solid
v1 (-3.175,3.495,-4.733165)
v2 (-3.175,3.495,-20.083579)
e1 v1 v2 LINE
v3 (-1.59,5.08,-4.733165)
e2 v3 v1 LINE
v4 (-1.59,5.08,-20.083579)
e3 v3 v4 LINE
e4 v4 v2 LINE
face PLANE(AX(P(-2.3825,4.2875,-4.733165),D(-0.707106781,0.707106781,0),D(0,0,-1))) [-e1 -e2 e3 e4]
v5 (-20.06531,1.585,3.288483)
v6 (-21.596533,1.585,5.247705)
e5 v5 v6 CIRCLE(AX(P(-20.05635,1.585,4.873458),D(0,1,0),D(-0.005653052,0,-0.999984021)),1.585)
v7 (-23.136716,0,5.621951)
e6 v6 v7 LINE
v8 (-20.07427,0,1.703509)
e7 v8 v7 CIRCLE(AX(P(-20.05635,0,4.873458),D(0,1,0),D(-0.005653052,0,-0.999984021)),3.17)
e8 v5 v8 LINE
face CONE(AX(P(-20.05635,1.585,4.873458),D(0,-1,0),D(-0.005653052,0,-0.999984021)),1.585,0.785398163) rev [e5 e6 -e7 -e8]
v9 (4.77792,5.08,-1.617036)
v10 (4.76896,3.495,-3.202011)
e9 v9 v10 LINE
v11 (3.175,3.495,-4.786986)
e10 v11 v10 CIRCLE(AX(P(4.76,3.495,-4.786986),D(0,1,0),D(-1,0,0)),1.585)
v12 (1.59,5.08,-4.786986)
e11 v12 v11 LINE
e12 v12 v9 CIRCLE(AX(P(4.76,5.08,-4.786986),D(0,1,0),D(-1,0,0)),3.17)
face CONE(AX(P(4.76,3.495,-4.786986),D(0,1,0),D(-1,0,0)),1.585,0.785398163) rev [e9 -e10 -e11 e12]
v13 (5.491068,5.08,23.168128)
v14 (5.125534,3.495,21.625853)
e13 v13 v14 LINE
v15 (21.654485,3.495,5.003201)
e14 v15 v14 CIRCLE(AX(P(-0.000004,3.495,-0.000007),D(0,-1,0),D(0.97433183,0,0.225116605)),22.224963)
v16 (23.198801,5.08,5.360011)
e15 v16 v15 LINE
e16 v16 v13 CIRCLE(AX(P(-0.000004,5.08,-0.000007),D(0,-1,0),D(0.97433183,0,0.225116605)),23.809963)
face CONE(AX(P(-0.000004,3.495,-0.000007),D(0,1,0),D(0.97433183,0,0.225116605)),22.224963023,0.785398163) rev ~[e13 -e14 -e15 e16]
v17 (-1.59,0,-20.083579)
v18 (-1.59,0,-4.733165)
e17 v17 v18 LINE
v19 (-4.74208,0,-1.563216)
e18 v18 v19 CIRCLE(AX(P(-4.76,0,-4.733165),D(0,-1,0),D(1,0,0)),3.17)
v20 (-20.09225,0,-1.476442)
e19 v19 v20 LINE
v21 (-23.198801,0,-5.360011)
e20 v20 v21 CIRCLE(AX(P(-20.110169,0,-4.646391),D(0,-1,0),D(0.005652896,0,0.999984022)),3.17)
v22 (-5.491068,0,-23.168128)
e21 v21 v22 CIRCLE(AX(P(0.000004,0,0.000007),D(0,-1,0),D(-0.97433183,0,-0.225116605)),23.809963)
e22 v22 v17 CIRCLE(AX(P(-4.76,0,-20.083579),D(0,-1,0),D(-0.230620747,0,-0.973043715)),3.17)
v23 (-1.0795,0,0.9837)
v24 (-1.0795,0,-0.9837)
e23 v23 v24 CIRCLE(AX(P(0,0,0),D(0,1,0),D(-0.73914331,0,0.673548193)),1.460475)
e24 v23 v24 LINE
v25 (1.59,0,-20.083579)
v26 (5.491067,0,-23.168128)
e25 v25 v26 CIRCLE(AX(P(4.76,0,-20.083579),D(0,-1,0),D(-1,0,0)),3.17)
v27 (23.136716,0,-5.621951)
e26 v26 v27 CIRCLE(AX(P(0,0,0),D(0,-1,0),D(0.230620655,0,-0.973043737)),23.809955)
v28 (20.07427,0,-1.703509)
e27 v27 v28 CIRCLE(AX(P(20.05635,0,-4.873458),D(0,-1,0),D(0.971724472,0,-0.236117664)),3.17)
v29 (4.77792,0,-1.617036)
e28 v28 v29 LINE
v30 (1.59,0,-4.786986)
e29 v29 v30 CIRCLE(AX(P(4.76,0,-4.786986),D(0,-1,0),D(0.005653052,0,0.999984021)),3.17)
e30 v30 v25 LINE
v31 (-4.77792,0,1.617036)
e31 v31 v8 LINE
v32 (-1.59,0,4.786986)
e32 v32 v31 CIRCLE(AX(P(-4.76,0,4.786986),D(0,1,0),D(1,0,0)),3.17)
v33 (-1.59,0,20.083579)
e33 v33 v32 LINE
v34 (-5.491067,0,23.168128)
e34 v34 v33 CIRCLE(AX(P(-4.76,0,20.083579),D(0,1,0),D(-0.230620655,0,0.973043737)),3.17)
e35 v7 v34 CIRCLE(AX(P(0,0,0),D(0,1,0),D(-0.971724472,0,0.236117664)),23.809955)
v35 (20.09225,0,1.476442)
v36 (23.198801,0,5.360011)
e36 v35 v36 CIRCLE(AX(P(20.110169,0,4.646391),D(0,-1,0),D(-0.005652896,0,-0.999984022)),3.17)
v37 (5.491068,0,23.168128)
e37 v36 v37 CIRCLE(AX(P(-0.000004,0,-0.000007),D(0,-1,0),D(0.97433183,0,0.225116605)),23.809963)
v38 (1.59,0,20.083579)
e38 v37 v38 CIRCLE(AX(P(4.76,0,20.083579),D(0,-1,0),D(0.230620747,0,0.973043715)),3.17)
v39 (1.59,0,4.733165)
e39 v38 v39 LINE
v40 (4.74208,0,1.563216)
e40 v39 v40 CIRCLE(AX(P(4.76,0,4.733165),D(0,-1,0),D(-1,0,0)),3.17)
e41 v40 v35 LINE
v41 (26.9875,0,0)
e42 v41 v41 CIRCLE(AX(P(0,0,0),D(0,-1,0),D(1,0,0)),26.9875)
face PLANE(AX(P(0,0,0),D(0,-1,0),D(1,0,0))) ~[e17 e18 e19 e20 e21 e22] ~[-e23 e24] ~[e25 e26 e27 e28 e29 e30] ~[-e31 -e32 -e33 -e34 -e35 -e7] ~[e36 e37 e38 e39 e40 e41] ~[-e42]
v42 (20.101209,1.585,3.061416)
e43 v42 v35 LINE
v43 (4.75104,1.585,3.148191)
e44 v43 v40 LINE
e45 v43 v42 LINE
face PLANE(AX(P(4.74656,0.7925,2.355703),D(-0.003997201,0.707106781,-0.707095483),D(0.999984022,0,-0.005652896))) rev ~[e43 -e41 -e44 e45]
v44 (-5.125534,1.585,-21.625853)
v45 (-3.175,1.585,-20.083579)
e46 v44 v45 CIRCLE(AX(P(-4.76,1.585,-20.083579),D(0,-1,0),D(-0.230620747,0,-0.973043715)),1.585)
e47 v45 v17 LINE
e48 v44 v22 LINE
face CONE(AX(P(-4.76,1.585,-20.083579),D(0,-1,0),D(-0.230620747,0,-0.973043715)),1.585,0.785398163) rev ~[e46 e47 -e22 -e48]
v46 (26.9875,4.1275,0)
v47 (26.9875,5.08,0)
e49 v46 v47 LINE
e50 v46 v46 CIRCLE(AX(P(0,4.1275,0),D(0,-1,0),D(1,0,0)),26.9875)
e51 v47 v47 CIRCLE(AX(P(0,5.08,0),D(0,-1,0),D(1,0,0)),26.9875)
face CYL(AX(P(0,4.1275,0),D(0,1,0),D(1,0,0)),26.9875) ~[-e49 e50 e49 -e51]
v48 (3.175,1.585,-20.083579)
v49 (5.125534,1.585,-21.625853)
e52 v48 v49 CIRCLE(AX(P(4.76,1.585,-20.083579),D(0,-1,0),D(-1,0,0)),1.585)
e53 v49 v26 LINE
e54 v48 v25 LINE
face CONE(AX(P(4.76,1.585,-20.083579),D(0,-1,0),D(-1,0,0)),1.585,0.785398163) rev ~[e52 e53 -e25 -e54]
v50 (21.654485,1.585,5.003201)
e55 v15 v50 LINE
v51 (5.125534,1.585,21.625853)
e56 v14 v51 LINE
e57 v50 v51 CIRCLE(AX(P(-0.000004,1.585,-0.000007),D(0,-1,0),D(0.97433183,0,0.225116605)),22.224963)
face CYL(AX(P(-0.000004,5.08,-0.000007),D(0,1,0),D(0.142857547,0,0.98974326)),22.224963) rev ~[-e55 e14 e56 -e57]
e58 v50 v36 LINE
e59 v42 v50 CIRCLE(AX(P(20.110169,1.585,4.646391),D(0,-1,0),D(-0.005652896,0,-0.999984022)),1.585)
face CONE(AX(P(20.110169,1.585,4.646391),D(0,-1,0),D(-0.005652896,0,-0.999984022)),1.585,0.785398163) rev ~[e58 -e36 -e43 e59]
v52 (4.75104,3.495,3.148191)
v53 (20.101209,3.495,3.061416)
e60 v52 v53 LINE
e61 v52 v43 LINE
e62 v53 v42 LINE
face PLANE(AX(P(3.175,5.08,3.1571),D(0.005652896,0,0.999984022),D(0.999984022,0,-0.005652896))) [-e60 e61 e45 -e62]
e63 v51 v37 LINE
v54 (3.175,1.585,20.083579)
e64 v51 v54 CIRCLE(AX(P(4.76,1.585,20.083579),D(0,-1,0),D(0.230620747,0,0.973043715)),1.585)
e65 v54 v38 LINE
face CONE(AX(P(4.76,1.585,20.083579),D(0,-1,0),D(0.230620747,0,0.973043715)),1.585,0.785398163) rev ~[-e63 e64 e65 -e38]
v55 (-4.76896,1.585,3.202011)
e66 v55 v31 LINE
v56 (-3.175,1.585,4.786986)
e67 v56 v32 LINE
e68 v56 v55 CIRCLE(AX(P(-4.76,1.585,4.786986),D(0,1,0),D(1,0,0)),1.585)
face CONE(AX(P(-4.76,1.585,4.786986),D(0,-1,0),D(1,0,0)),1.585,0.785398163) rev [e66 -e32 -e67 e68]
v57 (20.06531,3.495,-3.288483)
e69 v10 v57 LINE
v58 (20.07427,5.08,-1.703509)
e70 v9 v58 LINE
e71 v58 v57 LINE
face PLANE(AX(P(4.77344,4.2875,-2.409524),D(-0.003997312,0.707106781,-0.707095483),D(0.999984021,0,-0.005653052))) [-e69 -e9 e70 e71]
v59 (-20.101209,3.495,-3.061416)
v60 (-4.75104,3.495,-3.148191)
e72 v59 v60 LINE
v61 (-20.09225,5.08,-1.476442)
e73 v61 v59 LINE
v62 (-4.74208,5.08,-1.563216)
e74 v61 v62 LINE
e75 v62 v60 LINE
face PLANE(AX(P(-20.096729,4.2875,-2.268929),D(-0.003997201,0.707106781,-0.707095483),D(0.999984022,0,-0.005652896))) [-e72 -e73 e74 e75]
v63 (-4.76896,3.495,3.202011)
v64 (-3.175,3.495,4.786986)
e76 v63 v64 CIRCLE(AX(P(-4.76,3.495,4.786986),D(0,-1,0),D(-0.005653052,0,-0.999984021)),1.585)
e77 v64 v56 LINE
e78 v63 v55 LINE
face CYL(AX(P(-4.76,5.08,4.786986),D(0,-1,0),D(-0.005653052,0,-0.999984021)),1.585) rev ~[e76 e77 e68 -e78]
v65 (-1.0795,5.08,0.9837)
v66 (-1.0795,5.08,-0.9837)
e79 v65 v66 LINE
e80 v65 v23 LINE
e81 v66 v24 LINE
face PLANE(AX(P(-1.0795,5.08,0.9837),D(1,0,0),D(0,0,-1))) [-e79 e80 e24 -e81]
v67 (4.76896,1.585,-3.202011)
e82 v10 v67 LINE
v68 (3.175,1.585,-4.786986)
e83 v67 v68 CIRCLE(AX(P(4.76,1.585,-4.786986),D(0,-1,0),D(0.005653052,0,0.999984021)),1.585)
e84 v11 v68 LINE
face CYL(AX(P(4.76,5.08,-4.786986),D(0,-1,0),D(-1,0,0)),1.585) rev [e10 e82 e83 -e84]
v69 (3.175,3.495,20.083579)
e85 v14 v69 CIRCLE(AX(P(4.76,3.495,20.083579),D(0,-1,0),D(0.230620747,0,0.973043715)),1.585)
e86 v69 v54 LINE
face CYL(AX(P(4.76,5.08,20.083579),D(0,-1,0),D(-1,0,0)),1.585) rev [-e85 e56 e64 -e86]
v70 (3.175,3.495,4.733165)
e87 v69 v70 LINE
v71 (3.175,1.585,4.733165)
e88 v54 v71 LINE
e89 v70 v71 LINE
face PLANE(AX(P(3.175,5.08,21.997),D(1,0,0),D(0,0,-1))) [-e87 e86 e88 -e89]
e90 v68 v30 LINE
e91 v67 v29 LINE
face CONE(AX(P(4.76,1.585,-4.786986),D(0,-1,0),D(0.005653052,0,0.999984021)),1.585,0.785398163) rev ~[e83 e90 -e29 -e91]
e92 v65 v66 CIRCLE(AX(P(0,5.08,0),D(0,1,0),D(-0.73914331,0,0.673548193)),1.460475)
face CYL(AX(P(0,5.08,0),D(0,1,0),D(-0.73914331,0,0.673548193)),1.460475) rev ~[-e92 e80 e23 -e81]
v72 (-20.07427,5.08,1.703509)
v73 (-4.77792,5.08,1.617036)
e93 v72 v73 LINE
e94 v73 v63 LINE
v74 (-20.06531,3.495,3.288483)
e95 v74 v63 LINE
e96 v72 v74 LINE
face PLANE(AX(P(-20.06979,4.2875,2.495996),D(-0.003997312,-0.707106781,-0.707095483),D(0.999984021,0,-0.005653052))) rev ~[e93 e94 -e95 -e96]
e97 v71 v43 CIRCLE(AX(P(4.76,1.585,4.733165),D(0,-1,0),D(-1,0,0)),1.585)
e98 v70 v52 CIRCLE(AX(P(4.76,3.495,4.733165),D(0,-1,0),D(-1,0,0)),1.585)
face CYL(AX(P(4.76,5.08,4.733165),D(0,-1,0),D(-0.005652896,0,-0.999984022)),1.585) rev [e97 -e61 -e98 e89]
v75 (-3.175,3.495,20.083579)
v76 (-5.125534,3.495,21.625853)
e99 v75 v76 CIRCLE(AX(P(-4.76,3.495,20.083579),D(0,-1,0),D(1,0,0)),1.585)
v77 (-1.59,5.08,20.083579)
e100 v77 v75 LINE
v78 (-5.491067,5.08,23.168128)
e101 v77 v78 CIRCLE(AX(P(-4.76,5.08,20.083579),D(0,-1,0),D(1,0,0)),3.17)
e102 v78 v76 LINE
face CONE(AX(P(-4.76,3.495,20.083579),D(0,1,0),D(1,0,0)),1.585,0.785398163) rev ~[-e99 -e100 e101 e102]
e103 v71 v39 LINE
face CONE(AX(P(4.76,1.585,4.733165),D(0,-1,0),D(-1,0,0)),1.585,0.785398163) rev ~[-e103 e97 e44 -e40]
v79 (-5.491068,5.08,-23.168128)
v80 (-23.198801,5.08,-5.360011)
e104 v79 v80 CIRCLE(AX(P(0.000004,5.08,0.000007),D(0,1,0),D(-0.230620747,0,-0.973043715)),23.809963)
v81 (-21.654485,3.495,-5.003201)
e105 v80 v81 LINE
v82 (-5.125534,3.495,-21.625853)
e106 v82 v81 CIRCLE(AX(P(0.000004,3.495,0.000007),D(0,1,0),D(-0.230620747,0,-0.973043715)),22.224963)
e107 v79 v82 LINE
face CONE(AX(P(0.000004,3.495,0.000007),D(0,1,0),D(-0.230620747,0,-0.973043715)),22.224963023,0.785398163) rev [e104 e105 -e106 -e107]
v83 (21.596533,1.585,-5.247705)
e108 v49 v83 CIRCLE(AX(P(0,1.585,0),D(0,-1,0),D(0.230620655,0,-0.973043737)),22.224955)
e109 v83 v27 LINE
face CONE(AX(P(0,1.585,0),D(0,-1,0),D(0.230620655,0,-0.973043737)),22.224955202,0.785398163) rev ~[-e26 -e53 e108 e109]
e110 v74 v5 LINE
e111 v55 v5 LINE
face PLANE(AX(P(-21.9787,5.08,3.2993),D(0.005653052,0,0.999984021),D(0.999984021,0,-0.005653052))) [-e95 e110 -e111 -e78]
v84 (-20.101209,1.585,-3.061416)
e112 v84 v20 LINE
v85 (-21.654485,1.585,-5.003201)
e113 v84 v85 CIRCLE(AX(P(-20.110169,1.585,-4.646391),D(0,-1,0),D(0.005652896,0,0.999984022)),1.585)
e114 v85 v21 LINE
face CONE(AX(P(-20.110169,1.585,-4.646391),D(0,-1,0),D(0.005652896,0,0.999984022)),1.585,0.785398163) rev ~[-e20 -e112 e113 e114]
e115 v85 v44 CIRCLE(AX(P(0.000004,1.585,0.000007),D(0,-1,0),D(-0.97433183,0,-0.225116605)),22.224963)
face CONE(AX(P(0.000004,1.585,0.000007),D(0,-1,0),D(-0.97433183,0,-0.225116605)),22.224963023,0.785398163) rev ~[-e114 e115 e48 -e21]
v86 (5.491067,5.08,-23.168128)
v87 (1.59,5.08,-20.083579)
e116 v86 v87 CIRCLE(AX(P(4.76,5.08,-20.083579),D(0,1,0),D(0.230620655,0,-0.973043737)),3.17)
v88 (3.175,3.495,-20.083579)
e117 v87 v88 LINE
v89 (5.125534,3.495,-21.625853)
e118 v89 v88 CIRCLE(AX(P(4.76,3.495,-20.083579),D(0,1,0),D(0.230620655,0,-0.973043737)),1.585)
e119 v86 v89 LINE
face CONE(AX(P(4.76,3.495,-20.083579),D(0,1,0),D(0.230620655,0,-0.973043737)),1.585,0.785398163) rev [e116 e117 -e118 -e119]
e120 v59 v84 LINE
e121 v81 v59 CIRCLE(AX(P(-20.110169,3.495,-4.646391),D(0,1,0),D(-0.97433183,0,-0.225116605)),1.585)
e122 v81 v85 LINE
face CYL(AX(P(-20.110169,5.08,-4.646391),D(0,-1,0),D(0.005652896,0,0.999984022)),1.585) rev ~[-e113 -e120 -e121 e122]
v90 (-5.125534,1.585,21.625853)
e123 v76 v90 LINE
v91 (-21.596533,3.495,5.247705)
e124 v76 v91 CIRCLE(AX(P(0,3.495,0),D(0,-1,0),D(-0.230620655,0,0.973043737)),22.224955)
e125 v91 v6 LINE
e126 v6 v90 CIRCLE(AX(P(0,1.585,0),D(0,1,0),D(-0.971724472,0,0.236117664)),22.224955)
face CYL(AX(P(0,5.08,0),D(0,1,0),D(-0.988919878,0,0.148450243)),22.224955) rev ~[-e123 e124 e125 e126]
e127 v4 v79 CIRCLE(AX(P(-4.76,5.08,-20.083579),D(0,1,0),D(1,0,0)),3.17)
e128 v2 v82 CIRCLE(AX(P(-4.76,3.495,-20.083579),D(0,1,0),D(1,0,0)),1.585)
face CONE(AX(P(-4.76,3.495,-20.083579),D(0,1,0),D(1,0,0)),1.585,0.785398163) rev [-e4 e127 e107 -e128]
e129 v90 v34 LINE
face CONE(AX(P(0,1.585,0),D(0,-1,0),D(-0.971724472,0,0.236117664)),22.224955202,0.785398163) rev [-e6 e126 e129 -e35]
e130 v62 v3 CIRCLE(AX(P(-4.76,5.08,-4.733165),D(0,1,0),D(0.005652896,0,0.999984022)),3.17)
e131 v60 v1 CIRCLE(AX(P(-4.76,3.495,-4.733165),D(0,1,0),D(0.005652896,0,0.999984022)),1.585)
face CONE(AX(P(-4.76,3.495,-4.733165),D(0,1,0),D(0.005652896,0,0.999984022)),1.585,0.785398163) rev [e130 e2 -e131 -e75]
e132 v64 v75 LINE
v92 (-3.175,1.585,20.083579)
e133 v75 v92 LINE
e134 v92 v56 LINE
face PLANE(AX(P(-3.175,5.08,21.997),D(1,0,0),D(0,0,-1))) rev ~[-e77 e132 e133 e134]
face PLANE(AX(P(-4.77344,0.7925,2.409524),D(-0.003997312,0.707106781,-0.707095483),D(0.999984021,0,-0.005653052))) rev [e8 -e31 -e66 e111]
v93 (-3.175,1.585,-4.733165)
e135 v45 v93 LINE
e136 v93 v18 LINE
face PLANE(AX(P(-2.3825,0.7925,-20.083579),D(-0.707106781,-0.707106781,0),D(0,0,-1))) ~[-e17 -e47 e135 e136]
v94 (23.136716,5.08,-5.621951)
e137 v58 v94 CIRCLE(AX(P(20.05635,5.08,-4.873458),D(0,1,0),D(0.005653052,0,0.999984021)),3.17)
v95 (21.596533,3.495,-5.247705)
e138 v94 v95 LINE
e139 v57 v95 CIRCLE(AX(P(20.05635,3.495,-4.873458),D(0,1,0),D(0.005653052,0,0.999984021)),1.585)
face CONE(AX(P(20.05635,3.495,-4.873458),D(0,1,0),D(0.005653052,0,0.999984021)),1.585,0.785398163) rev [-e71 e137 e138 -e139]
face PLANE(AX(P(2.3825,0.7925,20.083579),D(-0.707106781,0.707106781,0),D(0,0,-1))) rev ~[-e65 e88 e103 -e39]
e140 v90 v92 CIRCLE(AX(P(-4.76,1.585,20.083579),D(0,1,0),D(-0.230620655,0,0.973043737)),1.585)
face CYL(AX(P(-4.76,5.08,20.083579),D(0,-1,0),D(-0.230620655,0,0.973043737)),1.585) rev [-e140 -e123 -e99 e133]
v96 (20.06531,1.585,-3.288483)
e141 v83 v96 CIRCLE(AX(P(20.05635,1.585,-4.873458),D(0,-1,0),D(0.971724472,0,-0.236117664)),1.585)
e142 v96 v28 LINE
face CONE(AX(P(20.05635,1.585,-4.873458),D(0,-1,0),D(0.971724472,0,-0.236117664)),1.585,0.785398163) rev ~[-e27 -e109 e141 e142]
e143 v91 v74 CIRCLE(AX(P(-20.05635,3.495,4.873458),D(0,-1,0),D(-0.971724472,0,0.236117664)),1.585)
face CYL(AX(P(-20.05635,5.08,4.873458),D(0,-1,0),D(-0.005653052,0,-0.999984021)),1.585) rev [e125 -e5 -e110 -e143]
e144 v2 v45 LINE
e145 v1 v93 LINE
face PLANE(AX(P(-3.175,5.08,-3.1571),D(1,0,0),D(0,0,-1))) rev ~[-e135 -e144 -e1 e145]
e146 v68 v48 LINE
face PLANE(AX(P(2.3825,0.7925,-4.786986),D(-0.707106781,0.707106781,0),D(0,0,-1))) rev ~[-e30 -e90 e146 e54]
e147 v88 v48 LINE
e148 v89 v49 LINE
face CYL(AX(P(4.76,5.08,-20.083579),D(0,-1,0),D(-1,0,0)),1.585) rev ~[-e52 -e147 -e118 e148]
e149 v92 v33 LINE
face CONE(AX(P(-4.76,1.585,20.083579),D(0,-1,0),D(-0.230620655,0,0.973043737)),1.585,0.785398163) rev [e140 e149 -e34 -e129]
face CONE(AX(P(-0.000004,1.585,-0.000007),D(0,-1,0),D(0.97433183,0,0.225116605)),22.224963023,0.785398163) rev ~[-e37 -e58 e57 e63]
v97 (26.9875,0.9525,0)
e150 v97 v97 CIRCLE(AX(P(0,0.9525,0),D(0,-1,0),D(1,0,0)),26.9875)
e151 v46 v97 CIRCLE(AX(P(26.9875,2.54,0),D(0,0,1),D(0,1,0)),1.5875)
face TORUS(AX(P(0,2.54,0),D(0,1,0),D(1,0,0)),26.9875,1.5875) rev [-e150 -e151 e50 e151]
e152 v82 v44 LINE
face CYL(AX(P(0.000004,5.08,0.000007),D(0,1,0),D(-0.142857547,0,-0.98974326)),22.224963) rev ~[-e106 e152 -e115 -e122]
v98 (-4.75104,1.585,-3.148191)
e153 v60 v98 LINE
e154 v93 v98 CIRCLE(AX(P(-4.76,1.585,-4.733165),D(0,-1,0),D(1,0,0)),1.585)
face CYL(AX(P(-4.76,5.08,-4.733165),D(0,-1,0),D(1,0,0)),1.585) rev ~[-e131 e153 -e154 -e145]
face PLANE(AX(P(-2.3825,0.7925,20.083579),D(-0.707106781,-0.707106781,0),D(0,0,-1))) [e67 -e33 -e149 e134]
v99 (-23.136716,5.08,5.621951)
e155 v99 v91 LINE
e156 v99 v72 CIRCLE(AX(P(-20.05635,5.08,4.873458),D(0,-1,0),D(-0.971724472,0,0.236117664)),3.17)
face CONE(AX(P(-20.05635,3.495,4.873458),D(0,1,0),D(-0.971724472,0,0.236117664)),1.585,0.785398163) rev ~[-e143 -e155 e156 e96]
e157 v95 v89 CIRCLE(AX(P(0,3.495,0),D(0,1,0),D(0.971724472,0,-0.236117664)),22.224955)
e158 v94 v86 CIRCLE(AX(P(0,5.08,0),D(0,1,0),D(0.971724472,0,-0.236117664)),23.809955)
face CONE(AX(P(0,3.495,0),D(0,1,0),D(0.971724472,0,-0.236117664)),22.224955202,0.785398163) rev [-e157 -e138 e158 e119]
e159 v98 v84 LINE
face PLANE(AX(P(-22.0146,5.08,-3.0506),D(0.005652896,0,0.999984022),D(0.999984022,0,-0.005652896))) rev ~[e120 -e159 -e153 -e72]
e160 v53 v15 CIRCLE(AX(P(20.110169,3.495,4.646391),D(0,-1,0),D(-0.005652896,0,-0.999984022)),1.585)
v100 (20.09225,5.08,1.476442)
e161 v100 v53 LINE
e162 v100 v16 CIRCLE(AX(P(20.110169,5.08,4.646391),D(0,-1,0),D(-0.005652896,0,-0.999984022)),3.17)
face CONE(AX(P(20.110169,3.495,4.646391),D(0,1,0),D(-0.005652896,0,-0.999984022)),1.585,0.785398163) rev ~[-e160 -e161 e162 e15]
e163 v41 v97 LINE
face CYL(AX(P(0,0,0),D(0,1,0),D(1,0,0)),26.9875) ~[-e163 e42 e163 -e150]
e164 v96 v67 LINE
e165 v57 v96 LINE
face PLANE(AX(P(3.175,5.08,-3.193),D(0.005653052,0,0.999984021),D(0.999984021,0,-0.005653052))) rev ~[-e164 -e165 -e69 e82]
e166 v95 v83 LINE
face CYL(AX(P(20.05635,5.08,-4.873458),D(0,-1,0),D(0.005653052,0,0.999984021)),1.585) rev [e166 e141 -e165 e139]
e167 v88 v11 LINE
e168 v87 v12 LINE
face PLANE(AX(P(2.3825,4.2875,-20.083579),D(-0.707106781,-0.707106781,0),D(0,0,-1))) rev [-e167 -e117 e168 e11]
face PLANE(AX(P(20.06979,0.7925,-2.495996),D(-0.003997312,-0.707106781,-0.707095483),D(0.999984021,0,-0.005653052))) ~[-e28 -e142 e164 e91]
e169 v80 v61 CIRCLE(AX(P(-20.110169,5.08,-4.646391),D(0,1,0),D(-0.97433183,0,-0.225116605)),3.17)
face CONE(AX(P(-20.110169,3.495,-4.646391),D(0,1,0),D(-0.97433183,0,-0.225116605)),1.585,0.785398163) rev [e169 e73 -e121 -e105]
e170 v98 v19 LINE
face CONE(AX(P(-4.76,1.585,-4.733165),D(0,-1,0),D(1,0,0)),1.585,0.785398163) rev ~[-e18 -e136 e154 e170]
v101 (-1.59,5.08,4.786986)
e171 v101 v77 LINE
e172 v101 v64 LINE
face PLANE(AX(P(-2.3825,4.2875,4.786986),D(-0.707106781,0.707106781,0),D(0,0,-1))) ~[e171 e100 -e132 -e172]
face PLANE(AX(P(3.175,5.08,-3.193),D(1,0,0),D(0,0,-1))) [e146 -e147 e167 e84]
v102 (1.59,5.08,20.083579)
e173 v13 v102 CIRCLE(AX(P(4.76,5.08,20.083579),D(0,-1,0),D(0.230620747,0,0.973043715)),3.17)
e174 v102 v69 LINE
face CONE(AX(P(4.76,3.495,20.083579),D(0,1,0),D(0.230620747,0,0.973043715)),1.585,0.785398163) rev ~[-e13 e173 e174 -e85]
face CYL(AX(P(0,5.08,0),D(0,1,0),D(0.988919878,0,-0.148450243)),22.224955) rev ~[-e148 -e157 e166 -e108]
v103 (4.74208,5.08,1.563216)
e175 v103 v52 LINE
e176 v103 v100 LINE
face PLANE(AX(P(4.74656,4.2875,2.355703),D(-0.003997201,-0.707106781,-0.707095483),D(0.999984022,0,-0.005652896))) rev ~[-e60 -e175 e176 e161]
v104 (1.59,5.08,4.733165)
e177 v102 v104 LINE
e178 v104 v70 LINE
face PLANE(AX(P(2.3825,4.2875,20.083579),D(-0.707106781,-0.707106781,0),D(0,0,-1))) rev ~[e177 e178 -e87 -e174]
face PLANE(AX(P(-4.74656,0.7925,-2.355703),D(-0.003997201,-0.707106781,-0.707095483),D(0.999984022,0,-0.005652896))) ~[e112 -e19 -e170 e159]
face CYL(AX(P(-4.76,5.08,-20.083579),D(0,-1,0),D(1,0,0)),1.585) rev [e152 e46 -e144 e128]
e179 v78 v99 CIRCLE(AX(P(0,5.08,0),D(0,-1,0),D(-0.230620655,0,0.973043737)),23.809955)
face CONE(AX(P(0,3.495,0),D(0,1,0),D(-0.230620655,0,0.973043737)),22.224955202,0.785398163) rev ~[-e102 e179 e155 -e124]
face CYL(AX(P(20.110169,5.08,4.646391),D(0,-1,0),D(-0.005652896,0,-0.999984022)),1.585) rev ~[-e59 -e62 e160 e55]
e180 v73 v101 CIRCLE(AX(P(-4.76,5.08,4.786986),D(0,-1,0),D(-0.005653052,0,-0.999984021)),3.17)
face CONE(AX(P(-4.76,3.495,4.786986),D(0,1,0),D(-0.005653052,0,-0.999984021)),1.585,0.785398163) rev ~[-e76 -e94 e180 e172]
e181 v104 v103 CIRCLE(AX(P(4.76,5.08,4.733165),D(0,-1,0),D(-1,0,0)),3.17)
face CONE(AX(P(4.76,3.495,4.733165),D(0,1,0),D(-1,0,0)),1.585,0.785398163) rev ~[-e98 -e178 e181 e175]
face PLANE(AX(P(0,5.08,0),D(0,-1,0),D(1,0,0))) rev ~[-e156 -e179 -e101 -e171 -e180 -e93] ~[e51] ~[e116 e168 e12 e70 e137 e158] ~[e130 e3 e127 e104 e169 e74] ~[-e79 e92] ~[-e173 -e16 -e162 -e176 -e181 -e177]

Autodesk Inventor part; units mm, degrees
ref_plane "YZ Plane" through (0, 0, 0) normal (1, 0, 0) x (0, 1, 0)
ref_plane "XZ Plane" through (0, 0, 0) normal (0, 1, 0) x (-1, 0, 0)
ref_plane "XY Plane" through (0, 0, 0) normal (0, 0, 1) x (1, 0, 0)
sketch "Sketch1" plane through (0, 0, 0) normal (0, 0, 1) x (1, 0, 0)
  line L0 (0, 0) -> (26.9875, 0)
  line L1 (26.9875, 5.08) -> (0, 5.08)
  line L2 (0, 5.08) -> (0, 0)
  arc A0 (26.9875, 4.1275) -> (26.9875, 0.9525) centre (26.9875, 2.54) ccw
  line L3 (26.9875, 0) -> (26.9875, 0.9525)
  line L4 (26.9875, 4.1275) -> (26.9875, 5.08)
  dimension "d0" = 5.08
  dimension "d1" = 26.9875
  dimension "d2" = 3.175
revolve "Revolution1" add sketch "Sketch1" angle 360 about axis through (0, 5.08, 0) along (0, -1, 0)
sketch "Sketch2" plane through (0, 5.08, 0) normal (0, 1, 0) x (1, 0, 0)
  line L0 (-22.0146, 3.0506) -> (-3.175, 3.1571)
  line L1 (3.175, 3.193) -> (21.9787, 3.2993)
  line L2 (-3.175, -21.997) -> (-3.175, -3.193)
  line L3 (-3.175, 3.1571) -> (-3.175, 21.997)
  arc A0 (-3.175, 21.997) -> (-22.0146, 3.0506) centre (0, 0) ccw
  line L4 (-21.9787, -3.2993) -> (-3.175, -3.193)
  line L5 (3.175, -3.1571) -> (22.0146, -3.0506)
  arc A1 (-21.9787, -3.2993) -> (-3.175, -21.997) centre (0, 0) ccw
  line L6 (3.175, -21.997) -> (3.175, -3.1571)
  line L7 (3.175, 3.193) -> (3.175, 21.997)
  arc A2 (3.175, -21.997) -> (22.0146, -3.0506) centre (0, 0) ccw
  arc A3 (21.9787, 3.2993) -> (3.175, 21.997) centre (0, 0) ccw
extrude "Extrusion1" cut sketch "Sketch2" against normal blind 25.4
sketch "Sketch3" plane through (0, 5.08, 0) normal (0, 1, 0) x (1, 0, 0)
  arc A0 (-1.0795, -0.9837) -> (-1.0795, 0.9837) centre (0, 0) ccw
  line L0 (-1.0795, -0.9837) -> (-1.0795, 0.9837)
  dimension "d11" = 2.921
  dimension "d12" = 1.0795
extrude "Extrusion2" cut sketch "Sketch3" against normal blind 25.4
fillet "Fillet1" radius 1.585 12 edges at (-3.175, 2.54, -3.1571) (3.175, 2.54, -3.193) (3.175, 2.54, 3.1571) (-3.175, 2.54, 3.193) (-21.9787, 2.54, 3.2993) (-3.175, 2.54, 21.997) (3.175, 2.54, 21.997) (22.0146, 2.54, 3.0506) (21.9787, 2.54, -3.2993) (3.175, 2.54, -21.997) (-3.175, 2.54, -21.997) (-22.0146, 2.54, -3.0506)
chamfer "Chamfer1" distance 1.585 angle 45 48 edges at (-12.4262, 5.08, -3.1048) (-21.348, 5.08, -3.6563) (-15.7598, 5.08, -15.671) (-3.7769, 5.08, -21.3269) (-3.175, 5.08, -12.4084) (-3.6361, 5.08, -3.6156) (-12.4172, 5.08, 3.2453) (-3.6424, 5.08, 3.6631) (-3.175, 5.08, 12.4353) (-3.7769, 5.08, 21.3269) (-15.671, 5.08, 15.7598) (-21.3052, 5.08, 3.8974) (12.4262, 5.08, 3.1048) (21.348, 5.08, 3.6563) (15.7598, 5.08, 15.671) (3.7769, 5.08, 21.3269) (3.175, 5.08, 12.4084) (3.6361, 5.08, 3.6156) (12.4172, 5.08, -3.2453) (3.6424, 5.08, -3.6631) (3.175, 5.08, -12.4353) (3.7769, 5.08, -21.3269) (15.671, 5.08, -15.7598) (21.3052, 5.08, -3.8974) (-3.6361, 0, -3.6156) (-12.4262, 0, -3.1048) (-21.348, 0, -3.6563) (-15.7598, 0, -15.671) (-3.7769, 0, -21.3269) (-3.175, 0, -12.4084) (-3.175, 0, 12.4353) (-3.6424, 0, 3.6631) (-12.4172, 0, 3.2453) (-21.3052, 0, 3.8974) (-15.671, 0, 15.7598) (-3.7769, 0, 21.3269) (3.175, 0, 12.4084) (3.7769, 0, 21.3269) (15.7598, 0, 15.671) (21.348, 0, 3.6563) (12.4262, 0, 3.1048) (3.6361, 0, 3.6156) (3.175, 0, -12.4353) (3.6424, 0, -3.6631) (12.4172, 0, -3.2453) (21.3052, 0, -3.8974) (15.671, 0, -15.7598) (3.7769, 0, -21.3269)
properties part number "Wheel"
